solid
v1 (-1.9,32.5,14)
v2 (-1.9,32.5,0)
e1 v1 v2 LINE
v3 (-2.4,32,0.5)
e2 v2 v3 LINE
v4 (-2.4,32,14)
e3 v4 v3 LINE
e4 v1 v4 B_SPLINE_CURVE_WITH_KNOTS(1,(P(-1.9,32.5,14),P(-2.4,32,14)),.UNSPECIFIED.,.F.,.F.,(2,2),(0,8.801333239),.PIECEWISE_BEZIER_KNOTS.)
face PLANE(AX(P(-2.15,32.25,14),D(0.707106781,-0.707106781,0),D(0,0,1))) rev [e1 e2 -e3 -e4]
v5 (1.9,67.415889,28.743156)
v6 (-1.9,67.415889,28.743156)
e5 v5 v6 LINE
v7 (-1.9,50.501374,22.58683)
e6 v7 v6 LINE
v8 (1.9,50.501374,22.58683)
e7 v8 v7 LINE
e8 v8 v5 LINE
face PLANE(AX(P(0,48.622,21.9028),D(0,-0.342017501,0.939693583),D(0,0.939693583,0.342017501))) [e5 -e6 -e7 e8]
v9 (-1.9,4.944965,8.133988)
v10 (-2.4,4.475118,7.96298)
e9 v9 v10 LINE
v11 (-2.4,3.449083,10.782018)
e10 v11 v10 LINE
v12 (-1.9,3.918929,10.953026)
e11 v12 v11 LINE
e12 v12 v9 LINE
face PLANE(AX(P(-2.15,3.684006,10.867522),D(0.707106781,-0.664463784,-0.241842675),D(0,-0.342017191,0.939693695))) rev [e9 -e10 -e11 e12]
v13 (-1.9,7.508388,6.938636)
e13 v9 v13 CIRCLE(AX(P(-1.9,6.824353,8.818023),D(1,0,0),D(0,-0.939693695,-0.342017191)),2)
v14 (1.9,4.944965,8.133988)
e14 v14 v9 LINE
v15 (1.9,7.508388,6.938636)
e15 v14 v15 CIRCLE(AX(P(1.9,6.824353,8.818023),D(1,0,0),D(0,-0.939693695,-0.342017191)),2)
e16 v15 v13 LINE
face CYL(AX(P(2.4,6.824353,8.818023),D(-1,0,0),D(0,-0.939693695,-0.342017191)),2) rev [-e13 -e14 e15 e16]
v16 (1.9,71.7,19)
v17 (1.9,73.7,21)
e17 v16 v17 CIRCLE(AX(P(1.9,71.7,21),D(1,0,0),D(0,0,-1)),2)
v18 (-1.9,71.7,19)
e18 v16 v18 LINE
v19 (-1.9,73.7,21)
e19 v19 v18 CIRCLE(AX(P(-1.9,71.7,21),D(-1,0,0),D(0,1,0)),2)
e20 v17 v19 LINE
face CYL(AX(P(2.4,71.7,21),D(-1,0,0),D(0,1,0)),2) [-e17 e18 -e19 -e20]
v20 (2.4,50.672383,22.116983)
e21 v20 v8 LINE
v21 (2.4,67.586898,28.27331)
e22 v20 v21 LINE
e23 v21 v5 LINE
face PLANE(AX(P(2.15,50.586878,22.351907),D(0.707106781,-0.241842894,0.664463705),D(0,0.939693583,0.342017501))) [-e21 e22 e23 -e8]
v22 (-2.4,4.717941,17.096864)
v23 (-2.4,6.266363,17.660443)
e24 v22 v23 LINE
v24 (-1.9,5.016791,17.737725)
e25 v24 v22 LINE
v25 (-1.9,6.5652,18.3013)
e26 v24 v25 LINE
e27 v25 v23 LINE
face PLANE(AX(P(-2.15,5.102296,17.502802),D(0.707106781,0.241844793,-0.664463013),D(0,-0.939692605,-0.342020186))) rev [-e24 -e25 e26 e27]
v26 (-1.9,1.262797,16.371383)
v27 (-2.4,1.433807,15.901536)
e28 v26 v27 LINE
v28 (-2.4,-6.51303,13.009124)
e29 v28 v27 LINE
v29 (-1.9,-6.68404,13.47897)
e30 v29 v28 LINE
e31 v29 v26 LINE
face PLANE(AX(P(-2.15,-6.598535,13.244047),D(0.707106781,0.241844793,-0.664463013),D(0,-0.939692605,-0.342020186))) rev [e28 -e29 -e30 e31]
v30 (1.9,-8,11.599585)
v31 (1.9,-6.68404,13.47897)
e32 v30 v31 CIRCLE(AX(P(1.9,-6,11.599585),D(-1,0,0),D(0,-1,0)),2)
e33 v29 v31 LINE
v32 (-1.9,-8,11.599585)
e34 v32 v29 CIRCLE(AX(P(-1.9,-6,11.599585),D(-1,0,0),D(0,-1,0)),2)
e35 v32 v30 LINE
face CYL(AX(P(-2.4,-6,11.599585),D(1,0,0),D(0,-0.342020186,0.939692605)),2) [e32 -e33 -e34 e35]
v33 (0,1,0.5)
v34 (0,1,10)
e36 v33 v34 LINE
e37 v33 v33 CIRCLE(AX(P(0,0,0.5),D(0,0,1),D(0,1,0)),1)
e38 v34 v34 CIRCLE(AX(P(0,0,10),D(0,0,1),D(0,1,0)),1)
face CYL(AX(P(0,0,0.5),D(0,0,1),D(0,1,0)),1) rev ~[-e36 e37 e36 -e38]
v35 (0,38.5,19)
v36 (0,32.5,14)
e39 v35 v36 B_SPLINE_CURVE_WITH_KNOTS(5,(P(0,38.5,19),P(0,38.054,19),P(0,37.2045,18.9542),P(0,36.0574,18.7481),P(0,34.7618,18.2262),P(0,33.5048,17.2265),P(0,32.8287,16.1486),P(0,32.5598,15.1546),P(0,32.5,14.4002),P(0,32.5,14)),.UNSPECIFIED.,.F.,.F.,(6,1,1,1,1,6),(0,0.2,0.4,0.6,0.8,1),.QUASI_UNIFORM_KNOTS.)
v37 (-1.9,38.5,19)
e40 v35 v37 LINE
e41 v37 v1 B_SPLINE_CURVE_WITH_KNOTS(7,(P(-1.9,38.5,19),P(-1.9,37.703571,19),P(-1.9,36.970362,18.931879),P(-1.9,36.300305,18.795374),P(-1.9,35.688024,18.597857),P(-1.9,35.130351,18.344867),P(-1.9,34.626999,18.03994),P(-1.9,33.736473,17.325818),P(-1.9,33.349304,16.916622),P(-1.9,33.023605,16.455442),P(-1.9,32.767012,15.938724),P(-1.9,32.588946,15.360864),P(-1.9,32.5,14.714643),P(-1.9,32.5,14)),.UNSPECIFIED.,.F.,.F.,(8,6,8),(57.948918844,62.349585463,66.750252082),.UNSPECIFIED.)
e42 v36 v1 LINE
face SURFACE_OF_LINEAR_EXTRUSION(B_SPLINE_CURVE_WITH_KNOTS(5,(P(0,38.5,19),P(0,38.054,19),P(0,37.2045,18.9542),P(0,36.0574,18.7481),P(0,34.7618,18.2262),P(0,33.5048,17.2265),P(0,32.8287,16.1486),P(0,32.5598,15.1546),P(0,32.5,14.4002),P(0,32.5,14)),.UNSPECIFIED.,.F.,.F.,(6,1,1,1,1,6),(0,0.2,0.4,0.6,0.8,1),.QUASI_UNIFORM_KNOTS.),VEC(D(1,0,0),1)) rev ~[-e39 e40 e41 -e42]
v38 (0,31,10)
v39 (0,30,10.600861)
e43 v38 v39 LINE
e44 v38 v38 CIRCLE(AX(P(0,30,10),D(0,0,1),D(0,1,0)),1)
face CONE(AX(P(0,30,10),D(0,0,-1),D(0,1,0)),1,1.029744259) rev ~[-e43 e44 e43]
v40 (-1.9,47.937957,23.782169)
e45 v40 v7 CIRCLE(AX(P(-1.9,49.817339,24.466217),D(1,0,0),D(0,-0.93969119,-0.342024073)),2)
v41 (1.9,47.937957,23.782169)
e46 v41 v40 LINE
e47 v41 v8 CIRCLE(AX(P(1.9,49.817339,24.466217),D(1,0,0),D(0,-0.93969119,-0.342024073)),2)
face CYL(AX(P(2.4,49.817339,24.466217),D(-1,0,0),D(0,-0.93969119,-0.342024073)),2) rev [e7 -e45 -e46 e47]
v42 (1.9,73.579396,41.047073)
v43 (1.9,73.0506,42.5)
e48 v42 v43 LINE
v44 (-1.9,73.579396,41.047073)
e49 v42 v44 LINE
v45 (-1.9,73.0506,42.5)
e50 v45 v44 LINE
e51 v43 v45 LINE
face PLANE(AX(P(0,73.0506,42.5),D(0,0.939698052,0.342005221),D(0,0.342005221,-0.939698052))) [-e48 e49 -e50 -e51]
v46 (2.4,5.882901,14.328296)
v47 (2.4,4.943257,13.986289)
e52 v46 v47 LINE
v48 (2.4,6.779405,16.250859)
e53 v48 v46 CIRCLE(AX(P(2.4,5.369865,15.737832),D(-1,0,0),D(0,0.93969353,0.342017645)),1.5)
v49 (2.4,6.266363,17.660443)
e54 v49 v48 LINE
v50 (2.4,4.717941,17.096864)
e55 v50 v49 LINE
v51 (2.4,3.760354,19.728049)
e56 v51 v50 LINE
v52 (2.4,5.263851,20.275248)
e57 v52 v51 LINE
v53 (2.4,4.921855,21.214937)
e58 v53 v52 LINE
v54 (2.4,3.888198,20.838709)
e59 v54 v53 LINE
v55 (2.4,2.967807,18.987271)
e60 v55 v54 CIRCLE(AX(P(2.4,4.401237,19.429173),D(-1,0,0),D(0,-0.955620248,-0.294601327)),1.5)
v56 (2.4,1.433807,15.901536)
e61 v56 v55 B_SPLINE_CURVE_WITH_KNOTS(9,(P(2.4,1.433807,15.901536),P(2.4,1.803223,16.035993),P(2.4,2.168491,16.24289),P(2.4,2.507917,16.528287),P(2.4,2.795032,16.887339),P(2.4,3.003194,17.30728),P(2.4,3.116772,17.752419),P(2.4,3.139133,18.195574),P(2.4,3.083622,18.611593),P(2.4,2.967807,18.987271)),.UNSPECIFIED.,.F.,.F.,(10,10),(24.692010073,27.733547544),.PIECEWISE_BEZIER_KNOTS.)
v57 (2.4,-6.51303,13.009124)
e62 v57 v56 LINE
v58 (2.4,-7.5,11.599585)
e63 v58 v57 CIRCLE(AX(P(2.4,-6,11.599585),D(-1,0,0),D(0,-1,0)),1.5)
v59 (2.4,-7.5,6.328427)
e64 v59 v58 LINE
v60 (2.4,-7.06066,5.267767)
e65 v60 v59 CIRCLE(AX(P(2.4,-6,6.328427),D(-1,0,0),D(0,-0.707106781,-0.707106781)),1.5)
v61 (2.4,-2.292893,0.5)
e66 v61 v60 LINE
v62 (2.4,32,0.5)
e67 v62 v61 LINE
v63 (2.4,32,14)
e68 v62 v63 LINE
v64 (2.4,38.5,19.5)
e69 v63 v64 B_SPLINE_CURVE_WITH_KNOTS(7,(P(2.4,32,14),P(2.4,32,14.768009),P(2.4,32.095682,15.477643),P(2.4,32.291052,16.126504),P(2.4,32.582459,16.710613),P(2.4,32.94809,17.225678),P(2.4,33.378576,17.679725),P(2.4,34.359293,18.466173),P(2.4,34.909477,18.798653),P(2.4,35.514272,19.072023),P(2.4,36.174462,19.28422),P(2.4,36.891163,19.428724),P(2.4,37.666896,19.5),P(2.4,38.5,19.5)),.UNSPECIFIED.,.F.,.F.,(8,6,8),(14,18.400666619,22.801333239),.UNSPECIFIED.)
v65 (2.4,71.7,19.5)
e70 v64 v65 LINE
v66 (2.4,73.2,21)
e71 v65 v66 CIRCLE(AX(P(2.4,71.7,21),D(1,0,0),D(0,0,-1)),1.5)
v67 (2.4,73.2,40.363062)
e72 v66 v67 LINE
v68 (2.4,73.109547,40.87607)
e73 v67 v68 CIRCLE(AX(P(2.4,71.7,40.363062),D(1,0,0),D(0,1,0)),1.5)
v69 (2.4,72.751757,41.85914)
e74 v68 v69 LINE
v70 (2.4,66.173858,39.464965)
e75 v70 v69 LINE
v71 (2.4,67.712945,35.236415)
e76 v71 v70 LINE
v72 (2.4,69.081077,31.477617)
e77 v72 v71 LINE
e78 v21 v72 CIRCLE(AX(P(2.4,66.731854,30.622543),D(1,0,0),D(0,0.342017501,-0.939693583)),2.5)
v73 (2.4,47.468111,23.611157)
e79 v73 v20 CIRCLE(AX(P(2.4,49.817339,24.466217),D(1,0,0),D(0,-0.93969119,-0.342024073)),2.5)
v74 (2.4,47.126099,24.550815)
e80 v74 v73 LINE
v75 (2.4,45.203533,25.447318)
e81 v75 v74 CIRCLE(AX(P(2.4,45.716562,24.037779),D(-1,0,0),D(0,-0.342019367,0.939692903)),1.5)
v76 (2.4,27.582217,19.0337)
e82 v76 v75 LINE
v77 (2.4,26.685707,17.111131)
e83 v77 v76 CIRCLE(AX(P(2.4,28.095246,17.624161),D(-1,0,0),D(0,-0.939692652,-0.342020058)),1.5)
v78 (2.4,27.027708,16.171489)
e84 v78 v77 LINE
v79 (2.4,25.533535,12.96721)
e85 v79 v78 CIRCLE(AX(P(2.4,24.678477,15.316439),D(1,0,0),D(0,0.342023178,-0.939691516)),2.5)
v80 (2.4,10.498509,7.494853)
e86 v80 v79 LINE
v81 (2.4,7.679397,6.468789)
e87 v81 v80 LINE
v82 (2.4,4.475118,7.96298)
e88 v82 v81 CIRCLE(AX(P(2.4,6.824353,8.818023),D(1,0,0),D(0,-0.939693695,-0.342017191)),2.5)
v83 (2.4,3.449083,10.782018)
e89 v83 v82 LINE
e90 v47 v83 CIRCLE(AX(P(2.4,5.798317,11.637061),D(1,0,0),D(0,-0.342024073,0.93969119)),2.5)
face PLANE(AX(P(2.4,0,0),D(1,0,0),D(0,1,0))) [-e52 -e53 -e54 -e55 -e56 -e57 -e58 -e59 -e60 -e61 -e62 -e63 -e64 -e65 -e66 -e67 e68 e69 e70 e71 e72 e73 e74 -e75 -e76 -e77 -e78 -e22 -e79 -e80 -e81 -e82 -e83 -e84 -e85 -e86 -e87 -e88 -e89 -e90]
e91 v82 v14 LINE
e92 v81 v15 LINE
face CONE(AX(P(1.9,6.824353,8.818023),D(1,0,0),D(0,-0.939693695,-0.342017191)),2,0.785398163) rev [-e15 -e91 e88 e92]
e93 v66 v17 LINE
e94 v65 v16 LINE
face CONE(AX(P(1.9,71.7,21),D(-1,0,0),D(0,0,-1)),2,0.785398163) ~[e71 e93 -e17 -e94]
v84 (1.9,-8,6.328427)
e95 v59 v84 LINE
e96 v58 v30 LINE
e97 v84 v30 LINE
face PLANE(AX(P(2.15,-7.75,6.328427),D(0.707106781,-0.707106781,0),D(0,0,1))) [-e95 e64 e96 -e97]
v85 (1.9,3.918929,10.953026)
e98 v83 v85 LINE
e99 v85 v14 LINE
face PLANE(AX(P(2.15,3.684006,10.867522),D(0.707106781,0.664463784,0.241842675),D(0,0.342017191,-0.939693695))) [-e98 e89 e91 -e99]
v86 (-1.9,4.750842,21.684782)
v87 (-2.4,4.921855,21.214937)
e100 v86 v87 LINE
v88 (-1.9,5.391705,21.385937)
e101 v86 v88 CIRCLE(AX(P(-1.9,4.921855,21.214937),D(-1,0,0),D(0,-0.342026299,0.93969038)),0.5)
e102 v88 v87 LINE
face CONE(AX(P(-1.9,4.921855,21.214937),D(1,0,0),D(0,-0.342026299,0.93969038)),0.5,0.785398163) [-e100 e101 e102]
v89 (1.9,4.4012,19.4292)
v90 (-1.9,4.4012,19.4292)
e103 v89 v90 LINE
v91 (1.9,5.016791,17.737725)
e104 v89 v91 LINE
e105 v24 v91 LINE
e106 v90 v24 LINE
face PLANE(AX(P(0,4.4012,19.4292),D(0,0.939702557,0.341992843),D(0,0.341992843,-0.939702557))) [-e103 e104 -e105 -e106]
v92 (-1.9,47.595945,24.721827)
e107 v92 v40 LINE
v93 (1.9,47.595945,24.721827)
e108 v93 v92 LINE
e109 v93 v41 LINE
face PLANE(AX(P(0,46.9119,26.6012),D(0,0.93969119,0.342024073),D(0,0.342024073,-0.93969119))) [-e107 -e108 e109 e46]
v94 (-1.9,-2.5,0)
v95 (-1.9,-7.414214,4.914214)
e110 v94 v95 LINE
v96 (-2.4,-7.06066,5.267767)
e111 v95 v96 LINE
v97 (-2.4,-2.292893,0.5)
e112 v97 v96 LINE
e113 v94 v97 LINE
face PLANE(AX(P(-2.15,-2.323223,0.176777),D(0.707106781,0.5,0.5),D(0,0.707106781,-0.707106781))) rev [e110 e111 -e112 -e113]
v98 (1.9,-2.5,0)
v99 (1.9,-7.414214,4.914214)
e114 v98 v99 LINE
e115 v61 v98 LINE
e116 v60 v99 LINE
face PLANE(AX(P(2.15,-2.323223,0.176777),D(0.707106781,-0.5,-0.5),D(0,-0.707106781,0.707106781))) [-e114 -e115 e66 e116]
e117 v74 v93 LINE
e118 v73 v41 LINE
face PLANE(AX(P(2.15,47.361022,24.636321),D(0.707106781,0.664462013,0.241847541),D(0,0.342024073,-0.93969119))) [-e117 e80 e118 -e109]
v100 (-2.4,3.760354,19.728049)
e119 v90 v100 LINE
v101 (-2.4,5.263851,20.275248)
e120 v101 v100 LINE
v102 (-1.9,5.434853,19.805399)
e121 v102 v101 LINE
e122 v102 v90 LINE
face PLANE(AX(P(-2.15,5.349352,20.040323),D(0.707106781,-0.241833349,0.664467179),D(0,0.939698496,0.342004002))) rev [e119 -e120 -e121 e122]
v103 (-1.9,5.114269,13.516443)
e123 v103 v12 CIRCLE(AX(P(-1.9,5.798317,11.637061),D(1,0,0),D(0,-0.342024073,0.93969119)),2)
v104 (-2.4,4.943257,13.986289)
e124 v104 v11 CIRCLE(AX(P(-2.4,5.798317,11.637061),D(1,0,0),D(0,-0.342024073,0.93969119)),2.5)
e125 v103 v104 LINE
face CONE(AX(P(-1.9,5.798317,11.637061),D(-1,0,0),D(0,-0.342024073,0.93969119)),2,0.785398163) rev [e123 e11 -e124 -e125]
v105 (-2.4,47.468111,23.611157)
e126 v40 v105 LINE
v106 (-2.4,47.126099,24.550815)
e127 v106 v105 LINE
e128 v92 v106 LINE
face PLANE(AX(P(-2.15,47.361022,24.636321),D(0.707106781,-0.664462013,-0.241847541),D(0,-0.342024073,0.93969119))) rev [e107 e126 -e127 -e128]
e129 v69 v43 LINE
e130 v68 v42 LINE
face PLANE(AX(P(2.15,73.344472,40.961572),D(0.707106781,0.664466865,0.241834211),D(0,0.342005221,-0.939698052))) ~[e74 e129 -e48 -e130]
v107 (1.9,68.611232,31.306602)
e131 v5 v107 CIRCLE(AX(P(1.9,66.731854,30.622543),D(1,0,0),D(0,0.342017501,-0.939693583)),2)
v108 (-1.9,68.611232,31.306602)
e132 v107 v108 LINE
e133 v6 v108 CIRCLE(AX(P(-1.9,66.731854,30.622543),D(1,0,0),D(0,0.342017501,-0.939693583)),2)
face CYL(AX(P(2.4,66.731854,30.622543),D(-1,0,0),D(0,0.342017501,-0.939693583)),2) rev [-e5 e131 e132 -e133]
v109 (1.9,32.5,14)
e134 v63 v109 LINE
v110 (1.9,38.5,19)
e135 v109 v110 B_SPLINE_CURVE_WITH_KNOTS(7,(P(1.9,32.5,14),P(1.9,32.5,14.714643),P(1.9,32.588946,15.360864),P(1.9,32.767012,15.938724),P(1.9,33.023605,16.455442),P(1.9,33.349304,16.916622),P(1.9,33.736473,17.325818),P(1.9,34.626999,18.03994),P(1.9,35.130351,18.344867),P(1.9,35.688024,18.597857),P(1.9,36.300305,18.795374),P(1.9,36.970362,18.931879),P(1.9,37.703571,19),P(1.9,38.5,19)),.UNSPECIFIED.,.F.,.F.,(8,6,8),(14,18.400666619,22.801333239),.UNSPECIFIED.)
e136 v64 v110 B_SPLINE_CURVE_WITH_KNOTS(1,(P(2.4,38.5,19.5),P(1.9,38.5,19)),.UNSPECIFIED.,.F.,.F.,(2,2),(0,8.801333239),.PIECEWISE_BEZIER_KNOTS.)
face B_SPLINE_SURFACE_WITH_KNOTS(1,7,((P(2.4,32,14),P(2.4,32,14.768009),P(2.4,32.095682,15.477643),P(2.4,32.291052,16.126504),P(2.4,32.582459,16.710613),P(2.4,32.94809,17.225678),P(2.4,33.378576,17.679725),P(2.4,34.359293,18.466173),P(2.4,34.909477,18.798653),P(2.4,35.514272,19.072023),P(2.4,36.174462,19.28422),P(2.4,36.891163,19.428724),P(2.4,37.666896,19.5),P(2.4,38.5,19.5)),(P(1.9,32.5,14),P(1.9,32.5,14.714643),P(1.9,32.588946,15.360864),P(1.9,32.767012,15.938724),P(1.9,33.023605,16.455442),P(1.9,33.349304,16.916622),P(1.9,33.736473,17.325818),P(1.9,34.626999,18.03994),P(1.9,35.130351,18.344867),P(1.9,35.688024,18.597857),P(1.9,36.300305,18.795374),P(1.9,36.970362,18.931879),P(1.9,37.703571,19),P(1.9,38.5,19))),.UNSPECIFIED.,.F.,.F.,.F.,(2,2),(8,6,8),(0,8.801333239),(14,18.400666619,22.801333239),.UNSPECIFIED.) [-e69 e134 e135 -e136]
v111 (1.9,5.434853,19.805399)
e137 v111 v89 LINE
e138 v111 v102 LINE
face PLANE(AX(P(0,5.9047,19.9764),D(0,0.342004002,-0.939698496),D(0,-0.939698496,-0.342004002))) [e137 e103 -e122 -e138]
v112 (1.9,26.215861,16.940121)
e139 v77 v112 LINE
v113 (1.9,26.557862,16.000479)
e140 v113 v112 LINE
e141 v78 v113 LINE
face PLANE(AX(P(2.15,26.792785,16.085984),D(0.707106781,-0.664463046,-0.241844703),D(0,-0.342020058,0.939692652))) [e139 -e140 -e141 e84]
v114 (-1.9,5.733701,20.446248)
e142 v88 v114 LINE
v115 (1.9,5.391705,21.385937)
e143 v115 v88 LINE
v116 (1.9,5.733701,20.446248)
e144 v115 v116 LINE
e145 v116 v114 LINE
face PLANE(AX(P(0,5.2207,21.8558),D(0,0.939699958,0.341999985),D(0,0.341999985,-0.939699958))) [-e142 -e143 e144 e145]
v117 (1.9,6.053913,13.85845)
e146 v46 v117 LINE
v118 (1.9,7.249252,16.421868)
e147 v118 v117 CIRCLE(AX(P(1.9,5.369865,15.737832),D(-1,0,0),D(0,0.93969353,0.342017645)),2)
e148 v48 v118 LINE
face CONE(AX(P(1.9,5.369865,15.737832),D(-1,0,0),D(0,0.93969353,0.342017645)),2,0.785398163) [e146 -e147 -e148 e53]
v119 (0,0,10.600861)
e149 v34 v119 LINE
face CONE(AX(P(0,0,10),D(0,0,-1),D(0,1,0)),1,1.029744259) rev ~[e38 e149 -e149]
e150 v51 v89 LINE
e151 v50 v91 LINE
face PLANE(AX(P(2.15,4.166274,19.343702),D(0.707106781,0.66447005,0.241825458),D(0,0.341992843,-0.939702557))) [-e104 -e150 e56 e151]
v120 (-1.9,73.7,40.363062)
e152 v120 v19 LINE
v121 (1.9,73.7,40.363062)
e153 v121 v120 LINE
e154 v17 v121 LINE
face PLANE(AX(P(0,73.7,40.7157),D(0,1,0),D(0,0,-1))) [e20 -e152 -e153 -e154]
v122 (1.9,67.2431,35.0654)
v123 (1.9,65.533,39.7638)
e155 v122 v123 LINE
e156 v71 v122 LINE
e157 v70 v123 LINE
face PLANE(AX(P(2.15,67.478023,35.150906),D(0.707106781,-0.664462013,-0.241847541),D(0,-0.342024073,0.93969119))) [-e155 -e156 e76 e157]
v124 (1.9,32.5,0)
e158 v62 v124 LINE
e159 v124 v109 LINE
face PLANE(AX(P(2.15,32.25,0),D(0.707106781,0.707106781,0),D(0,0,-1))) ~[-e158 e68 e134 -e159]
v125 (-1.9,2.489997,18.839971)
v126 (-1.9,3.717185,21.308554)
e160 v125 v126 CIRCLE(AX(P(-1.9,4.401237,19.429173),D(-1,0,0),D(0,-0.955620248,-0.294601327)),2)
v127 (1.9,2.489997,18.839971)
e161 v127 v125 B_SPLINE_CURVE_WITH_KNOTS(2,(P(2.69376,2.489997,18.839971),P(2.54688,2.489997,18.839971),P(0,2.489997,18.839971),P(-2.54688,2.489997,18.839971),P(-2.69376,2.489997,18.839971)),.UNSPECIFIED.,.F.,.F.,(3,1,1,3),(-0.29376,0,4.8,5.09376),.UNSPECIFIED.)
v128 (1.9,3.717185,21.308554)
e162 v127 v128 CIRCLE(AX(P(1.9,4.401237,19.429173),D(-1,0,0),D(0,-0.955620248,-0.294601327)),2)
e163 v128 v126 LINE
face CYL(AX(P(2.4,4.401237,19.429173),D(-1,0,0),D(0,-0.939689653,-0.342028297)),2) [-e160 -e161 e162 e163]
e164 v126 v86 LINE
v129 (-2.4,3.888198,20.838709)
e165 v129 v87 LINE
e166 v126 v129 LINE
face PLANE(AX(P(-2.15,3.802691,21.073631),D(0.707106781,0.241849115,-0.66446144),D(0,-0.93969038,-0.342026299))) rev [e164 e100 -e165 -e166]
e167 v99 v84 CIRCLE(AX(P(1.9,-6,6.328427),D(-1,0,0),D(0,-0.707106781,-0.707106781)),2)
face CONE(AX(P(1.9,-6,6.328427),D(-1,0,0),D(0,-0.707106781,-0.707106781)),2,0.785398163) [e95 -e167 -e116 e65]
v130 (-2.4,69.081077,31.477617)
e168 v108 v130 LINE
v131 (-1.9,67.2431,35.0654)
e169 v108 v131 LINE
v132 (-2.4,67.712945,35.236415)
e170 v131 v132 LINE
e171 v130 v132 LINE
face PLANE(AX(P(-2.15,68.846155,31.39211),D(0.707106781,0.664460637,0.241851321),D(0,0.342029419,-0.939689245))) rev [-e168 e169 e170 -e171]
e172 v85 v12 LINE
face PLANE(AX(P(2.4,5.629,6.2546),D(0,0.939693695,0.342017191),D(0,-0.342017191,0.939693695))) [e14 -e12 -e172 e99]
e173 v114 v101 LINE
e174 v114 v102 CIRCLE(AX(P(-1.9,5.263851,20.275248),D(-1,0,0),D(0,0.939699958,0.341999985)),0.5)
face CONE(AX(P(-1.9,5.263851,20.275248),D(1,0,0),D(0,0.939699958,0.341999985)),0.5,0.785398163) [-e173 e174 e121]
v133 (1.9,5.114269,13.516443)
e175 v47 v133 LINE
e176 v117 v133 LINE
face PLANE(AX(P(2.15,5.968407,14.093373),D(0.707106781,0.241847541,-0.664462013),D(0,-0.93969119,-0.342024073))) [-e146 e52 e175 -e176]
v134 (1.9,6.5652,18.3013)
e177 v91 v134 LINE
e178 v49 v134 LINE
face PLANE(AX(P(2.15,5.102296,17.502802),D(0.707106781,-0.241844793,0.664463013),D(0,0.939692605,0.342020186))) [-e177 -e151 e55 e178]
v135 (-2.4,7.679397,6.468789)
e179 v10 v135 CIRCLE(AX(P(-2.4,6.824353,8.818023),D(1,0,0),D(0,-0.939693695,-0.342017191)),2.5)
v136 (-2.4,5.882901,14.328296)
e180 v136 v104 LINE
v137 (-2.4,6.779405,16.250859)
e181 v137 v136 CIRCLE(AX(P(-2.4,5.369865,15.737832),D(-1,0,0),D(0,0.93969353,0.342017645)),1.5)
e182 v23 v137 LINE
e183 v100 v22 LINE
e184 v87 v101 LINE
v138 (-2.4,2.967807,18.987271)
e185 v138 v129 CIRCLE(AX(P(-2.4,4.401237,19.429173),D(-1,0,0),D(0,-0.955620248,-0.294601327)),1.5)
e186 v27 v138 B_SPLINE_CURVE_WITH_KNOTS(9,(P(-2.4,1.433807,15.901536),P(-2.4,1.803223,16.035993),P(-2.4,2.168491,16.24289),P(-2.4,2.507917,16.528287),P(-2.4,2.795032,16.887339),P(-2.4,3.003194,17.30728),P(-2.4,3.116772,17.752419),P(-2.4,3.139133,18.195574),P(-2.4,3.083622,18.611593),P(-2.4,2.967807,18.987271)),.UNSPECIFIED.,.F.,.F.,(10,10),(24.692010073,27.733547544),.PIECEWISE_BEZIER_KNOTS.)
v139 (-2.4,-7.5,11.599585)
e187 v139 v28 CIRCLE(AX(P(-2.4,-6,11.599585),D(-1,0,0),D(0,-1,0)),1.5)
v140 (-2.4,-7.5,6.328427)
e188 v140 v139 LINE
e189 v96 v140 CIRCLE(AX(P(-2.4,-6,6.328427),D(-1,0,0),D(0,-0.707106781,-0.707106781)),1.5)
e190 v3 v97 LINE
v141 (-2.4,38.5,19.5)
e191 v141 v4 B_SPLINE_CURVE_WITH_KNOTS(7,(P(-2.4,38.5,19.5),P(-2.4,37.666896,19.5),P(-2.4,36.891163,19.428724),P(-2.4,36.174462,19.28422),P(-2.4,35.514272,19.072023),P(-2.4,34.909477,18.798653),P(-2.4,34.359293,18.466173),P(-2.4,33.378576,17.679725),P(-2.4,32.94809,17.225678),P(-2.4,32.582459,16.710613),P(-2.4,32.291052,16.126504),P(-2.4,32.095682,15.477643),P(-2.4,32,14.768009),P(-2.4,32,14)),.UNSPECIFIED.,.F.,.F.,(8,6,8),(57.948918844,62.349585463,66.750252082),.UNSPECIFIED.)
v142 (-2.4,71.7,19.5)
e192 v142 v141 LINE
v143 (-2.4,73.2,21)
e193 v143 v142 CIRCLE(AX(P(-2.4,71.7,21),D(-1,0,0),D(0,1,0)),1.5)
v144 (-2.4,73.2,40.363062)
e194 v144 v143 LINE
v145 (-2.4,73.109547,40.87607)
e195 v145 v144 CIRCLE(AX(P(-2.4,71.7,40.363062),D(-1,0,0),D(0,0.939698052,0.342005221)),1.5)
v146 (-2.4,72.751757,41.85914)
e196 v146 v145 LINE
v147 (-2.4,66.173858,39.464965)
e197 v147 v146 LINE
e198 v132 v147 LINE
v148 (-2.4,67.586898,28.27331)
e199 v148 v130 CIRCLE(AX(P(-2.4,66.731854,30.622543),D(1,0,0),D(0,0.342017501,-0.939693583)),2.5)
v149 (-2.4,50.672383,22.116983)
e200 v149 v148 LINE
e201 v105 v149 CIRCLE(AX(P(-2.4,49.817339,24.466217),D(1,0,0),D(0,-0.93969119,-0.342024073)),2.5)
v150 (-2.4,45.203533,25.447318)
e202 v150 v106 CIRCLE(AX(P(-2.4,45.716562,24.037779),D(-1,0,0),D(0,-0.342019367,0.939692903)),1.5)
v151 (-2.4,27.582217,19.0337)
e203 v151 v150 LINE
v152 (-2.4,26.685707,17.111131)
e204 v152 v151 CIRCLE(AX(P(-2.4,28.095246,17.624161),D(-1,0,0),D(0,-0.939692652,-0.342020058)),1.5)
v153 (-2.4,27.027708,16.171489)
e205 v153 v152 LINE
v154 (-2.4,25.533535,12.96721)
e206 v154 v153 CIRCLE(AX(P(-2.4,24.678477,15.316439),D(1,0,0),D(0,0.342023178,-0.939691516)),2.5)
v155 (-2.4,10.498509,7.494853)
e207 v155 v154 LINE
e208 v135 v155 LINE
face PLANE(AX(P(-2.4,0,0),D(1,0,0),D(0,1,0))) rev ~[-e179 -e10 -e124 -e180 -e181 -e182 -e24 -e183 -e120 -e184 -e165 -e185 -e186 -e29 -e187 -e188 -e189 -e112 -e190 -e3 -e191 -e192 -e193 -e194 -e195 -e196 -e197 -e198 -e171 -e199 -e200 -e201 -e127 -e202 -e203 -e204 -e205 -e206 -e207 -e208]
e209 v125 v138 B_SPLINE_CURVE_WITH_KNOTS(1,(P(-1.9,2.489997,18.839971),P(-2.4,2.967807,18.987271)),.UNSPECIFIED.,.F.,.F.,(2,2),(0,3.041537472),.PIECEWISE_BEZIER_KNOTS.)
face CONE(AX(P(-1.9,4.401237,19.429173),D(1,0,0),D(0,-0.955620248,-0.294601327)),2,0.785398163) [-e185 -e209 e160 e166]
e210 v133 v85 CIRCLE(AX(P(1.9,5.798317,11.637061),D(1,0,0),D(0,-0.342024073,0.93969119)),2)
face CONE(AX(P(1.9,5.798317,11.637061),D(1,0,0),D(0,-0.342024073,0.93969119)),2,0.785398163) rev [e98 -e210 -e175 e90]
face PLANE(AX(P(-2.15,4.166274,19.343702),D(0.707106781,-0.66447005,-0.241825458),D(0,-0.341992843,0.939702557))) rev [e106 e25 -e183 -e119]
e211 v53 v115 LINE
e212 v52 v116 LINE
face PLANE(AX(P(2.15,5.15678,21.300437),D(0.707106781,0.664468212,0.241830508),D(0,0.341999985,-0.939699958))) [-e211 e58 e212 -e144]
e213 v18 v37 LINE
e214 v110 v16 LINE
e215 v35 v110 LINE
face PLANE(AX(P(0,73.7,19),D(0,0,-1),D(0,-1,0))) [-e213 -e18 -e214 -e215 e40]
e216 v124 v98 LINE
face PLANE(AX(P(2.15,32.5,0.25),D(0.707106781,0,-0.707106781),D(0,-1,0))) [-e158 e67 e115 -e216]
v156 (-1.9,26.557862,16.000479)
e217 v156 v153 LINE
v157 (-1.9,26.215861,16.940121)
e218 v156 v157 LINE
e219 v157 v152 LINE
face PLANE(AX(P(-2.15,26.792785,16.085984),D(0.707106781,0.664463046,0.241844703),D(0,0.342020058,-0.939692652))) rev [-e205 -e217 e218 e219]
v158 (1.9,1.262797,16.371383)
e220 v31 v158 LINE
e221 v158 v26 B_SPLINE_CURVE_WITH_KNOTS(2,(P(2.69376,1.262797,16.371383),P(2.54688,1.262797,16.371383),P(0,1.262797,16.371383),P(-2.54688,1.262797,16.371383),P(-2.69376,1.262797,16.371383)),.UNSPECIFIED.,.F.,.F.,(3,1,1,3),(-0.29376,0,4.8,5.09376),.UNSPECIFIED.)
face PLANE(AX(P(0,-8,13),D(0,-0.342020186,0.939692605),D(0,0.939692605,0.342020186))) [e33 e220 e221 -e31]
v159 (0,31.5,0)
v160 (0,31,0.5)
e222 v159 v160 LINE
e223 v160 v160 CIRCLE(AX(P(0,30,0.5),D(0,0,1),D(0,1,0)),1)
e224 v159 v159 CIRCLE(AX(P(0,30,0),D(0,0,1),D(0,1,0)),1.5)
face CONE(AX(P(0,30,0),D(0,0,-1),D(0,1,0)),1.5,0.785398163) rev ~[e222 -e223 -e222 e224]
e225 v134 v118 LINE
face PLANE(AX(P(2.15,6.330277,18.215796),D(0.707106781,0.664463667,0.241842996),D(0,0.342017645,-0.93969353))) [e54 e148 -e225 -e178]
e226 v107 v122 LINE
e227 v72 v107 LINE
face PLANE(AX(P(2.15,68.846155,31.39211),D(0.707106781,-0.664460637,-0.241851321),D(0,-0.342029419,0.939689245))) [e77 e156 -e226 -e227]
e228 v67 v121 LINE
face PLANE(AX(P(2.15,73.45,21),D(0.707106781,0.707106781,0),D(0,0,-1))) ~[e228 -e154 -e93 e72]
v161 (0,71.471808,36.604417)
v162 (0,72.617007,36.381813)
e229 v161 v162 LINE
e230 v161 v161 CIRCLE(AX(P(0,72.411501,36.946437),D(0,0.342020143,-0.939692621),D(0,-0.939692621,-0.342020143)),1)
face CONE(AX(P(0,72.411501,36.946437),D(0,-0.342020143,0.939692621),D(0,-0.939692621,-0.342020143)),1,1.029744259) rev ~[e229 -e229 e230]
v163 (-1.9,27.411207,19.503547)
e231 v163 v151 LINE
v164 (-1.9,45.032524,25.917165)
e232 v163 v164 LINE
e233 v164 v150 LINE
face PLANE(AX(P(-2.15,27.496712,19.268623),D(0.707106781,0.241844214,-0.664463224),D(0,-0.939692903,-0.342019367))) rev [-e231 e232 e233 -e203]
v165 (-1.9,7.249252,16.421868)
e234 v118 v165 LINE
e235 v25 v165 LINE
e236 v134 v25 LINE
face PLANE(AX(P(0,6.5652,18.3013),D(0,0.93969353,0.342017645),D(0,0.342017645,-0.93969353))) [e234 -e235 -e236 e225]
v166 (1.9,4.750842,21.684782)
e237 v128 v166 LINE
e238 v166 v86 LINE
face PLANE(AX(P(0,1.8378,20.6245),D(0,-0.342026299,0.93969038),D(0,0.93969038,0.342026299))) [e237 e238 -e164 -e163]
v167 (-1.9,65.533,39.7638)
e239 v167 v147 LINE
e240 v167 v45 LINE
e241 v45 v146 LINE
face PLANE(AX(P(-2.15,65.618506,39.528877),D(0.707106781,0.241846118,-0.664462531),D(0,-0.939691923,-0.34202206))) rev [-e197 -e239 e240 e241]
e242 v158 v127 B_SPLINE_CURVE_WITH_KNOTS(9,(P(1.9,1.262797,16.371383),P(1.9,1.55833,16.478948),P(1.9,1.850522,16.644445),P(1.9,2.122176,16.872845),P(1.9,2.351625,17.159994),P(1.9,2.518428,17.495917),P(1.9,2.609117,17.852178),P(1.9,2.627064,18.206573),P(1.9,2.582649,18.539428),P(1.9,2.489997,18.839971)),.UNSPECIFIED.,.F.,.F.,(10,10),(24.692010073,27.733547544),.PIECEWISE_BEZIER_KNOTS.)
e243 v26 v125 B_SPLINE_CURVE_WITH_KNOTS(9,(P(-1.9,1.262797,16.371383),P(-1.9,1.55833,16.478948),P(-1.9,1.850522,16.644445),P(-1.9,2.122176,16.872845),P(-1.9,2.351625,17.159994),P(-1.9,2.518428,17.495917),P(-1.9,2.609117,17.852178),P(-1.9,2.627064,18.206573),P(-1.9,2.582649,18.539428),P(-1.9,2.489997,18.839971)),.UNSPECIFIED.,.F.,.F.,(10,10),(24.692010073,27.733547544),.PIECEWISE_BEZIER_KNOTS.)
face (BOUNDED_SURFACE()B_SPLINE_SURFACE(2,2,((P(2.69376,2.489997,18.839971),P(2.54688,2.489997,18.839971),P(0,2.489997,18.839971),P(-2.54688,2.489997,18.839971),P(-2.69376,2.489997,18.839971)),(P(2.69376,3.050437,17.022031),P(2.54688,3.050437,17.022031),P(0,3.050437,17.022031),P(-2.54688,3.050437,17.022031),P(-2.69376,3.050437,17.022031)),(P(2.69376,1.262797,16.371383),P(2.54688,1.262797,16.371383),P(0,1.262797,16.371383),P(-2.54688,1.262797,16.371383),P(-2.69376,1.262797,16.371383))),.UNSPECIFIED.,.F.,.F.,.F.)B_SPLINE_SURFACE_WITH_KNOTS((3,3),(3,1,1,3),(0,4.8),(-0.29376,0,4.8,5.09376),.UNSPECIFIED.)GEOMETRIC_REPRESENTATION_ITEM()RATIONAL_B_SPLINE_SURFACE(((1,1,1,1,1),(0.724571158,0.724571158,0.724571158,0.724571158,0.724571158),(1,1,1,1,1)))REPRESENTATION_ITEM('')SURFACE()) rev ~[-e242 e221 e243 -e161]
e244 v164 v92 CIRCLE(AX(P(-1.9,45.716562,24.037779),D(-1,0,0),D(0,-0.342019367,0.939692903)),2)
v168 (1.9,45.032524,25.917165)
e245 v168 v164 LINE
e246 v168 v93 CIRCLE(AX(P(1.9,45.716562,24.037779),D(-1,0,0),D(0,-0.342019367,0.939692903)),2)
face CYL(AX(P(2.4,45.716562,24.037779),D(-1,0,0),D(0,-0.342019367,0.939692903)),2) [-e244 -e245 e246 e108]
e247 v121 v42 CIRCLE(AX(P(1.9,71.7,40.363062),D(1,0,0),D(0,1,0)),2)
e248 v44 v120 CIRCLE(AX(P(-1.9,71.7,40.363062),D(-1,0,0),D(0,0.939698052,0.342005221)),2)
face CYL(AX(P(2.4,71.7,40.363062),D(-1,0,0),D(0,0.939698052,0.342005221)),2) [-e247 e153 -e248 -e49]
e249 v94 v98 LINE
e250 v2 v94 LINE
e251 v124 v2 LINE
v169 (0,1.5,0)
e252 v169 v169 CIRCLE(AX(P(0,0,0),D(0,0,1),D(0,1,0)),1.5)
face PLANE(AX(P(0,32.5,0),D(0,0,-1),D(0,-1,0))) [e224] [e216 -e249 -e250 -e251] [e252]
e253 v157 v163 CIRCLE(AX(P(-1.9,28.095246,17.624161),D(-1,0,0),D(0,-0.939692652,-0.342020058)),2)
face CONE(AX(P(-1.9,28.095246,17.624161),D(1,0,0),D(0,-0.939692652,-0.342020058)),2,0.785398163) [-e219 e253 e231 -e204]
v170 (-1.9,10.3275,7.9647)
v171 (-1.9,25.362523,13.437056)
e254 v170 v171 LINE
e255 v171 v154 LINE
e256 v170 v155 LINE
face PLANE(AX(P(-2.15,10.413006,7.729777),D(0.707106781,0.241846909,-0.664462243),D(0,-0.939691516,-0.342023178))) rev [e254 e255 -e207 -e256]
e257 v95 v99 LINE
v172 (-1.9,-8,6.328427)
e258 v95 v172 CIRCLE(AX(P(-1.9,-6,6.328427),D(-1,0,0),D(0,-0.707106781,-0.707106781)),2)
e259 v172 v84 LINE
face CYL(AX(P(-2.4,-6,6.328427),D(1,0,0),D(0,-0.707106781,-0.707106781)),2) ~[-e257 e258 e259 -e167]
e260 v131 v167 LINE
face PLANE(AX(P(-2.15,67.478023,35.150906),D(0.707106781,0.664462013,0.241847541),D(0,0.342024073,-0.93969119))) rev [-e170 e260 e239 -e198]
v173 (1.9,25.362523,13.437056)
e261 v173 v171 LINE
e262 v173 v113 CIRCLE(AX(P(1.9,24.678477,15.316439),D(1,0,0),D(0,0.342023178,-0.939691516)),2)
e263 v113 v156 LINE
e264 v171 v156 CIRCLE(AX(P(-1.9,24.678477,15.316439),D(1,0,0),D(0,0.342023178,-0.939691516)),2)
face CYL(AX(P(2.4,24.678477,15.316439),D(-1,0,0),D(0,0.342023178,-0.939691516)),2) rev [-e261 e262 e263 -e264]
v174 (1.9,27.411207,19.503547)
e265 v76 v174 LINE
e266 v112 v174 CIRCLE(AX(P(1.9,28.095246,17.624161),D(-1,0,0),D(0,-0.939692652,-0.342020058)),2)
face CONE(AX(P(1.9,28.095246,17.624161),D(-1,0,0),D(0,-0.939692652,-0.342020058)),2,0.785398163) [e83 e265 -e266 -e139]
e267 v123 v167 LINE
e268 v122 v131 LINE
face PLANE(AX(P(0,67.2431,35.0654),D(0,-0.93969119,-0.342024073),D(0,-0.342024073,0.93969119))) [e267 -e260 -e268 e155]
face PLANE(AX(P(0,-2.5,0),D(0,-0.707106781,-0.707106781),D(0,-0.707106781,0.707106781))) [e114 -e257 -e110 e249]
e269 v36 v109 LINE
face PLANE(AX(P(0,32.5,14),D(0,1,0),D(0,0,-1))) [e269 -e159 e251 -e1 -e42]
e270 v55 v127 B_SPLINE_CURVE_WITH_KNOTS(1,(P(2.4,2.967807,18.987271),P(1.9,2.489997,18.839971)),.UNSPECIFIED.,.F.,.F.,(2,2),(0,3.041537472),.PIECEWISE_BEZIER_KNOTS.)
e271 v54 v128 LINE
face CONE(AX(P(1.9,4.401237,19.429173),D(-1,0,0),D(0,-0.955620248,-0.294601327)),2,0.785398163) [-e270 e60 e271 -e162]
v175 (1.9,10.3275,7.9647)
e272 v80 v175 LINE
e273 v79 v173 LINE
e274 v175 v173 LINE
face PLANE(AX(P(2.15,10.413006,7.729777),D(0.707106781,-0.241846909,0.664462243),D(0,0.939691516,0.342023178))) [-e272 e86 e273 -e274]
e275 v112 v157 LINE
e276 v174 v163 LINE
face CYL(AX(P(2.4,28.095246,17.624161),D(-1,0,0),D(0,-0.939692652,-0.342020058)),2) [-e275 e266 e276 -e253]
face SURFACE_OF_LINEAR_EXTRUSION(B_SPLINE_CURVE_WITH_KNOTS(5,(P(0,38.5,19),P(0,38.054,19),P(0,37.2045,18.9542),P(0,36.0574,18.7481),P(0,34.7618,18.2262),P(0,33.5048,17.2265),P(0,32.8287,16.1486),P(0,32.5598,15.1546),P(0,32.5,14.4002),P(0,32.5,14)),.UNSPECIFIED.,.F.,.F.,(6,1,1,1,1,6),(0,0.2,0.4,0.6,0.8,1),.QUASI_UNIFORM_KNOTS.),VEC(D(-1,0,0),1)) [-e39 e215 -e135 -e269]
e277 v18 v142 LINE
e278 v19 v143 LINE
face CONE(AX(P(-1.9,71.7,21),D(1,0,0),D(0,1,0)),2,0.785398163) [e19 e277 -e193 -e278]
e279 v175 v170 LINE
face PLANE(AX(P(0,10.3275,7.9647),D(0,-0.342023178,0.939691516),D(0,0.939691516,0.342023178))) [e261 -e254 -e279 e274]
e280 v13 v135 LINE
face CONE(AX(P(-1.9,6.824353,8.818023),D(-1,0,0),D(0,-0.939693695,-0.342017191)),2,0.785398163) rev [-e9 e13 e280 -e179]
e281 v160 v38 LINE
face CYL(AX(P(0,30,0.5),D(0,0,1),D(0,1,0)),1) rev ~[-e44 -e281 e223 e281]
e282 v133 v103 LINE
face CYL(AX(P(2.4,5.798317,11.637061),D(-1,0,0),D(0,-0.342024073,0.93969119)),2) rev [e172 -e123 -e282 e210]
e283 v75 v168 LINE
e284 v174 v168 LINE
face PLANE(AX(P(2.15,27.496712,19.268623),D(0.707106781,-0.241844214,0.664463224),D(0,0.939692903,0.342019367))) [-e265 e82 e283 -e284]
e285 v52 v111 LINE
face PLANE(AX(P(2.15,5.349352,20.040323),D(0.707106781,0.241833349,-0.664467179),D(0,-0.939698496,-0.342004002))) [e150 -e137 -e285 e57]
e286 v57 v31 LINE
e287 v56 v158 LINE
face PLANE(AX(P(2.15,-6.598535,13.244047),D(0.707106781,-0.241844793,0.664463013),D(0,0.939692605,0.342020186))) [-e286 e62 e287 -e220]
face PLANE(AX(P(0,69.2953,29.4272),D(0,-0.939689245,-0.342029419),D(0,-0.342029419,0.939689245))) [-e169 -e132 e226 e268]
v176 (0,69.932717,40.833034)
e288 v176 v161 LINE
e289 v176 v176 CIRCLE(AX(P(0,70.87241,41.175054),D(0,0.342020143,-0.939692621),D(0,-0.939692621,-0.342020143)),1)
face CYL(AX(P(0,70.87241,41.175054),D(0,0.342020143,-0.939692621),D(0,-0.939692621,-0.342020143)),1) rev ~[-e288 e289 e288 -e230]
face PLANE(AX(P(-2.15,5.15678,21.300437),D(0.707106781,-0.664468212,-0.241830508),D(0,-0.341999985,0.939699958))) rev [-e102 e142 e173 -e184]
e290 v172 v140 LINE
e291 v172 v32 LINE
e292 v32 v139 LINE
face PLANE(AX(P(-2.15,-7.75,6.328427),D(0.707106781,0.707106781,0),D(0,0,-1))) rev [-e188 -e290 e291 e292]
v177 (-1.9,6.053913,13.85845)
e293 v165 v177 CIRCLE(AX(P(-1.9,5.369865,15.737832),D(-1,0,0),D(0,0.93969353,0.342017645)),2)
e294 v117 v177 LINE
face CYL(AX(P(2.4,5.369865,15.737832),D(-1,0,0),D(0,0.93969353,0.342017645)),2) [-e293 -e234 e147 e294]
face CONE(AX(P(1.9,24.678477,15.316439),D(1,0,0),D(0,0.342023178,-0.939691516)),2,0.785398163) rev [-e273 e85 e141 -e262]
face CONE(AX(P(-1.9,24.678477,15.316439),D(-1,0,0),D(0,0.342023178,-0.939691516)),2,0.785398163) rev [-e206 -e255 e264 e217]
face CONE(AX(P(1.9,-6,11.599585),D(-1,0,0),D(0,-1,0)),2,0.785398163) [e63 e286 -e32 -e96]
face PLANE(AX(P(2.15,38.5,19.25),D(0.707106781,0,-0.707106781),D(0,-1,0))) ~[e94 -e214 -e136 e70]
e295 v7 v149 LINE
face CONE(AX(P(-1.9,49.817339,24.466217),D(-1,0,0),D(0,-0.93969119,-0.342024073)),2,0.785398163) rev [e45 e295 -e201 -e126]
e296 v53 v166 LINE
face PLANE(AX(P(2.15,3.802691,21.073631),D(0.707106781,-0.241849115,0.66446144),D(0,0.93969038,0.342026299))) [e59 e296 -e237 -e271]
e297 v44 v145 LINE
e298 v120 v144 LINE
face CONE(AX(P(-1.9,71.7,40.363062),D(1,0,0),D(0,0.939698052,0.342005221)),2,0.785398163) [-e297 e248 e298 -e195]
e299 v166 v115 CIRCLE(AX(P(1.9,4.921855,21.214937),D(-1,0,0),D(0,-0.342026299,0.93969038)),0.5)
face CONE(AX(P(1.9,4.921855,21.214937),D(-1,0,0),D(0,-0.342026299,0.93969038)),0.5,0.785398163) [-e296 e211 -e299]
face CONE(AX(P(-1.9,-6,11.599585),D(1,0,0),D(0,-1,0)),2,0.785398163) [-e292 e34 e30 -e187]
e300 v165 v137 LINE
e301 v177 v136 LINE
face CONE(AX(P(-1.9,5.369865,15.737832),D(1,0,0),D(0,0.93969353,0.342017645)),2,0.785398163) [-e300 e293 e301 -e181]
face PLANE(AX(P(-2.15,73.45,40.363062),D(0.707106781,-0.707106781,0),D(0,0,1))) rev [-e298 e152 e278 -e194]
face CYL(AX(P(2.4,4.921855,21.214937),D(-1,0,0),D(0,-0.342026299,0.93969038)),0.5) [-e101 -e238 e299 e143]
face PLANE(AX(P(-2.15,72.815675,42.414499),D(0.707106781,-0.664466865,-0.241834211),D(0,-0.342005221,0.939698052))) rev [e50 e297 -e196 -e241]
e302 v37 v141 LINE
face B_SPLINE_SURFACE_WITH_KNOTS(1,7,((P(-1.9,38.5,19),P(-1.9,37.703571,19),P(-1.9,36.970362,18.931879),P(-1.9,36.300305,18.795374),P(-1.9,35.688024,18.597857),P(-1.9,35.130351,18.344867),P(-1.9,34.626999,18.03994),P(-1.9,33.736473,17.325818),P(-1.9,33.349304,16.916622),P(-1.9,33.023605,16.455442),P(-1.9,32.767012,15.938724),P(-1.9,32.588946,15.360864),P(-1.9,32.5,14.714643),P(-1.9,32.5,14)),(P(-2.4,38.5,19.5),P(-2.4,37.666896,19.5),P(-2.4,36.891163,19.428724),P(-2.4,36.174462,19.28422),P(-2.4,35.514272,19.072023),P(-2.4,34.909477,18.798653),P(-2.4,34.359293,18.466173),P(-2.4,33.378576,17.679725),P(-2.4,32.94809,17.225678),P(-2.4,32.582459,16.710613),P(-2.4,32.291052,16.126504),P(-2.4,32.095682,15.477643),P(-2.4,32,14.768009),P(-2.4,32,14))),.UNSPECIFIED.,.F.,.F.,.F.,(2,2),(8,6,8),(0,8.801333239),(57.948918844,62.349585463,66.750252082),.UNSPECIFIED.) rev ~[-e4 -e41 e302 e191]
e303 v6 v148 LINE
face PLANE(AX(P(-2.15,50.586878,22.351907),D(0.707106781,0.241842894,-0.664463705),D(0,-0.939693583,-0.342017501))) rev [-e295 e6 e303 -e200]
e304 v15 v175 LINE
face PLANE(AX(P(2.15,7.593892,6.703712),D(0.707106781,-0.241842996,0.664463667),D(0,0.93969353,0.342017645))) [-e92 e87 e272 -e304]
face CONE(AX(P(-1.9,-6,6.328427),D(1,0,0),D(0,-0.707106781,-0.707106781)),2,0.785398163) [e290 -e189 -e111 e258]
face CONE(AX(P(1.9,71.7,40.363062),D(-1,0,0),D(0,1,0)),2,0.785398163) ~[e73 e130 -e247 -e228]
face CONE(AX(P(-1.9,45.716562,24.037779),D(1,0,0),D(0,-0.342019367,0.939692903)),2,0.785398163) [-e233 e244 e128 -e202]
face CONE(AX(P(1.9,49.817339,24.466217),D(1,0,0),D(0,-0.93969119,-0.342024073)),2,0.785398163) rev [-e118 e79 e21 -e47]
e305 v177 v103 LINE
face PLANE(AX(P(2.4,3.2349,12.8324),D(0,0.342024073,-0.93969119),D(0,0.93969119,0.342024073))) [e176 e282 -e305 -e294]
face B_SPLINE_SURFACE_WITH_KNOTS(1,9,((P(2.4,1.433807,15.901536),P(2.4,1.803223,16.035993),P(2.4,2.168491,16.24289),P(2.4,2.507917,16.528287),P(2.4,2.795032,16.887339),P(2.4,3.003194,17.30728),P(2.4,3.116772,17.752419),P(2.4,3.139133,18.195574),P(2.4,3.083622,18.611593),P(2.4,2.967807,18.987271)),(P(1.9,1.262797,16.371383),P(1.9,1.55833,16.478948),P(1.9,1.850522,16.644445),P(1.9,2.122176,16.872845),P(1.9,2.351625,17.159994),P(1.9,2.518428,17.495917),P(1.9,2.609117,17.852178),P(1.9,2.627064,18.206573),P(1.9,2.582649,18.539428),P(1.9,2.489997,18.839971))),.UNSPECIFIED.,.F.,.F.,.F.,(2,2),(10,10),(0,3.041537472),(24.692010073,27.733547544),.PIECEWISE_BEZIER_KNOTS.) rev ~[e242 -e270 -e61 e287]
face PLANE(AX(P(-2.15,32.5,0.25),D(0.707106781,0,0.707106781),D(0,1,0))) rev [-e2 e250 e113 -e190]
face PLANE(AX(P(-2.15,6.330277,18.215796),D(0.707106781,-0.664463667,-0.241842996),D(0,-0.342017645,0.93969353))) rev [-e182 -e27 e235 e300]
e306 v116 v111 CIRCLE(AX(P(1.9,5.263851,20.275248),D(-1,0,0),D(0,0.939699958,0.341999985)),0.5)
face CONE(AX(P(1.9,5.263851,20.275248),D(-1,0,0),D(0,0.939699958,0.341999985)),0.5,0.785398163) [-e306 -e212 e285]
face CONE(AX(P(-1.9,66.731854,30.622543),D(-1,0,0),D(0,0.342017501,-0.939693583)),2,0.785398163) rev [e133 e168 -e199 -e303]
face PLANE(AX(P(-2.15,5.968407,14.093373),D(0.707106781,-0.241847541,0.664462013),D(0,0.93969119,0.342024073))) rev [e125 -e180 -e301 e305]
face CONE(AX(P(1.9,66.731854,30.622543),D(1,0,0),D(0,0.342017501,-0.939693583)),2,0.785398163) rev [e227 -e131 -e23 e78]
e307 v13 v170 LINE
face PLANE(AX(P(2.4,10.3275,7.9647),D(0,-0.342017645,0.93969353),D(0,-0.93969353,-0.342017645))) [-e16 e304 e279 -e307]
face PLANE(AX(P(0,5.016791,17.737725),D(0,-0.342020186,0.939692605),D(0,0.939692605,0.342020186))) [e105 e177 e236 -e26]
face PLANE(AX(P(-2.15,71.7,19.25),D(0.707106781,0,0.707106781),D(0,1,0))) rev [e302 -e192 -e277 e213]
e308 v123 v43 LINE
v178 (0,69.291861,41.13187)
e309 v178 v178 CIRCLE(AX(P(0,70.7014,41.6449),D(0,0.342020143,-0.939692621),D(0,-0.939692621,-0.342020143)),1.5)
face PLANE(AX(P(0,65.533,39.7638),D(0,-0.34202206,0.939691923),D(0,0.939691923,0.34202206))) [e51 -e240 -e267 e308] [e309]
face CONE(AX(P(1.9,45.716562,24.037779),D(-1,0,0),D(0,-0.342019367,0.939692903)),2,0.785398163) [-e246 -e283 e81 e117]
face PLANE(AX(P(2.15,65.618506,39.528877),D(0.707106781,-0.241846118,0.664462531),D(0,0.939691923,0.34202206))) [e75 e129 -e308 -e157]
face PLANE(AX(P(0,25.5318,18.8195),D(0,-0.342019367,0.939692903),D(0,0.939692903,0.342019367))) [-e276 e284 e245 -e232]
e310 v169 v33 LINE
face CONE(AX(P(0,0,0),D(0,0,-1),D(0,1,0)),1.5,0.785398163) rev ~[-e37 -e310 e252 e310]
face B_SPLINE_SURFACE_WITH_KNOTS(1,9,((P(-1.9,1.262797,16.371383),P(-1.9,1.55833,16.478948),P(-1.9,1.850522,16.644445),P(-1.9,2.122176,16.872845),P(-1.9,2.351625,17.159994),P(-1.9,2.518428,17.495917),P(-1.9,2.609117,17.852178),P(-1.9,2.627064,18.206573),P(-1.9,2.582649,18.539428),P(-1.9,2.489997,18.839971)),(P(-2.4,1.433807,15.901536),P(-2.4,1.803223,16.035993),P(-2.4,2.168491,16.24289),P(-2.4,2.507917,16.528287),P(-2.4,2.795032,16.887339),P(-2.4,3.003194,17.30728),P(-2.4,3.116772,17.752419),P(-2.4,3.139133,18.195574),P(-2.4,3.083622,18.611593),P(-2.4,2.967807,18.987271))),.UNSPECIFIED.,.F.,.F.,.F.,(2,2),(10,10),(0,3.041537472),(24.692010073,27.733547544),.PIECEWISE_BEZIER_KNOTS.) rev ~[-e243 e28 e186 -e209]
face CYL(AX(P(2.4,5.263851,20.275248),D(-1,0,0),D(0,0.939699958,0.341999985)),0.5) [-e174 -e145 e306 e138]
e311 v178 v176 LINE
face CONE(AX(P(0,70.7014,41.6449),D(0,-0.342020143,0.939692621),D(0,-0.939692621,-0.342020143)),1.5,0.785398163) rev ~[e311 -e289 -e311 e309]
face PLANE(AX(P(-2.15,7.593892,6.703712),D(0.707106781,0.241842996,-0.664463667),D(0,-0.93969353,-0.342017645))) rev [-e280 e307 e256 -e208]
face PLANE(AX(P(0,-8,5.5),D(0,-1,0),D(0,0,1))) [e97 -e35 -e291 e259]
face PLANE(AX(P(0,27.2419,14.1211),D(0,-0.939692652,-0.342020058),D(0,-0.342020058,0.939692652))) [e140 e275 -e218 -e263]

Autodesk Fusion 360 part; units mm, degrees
sketch "Esquisse1" plane through (0, 0, 0) normal (1, 0, 0) x (0, 1, 0)
  line L0 (0, 0) -> (0, 15) construction
  line L1 (30, 0) -> (30, 15) construction
  line L2 (32.5, 0) -> (32.5, 13)
  line L3 (32.5, 13) -> (38.5, 19)
  line L4 (38.5, 19) -> (73.7, 19)
  line L5 (32.5, 0) -> (-2.5, 0)
  line L6 (-2.5, 0) -> (-8, 5.5)
  line L7 (-8, 13) -> (73.0506, 42.5)
  line L8 (14.3198, 21.1237) -> (18.082, 10.7871) construction
  line L9 (70.7014, 41.6449) -> (74.4636, 31.3083) construction
  line L10 (46.2693, 32.7524) -> (50.0316, 22.4158) construction
  line L11 (11.9706, 20.2687) -> (15.7328, 9.9321) construction
  line L12 (15.7328, 9.9321) -> (18.082, 10.7871) construction
  line L13 (73.0506, 42.5) -> (76.8128, 32.1634) construction
  line L14 (76.8128, 32.1634) -> (74.4636, 31.3083) construction
  line L15 (3.1375, 17.0537) -> (1.8378, 20.6245)
  line L16 (1.8378, 20.6245) -> (5.2207, 21.8558)
  line L17 (5.2207, 21.8558) -> (5.9047, 19.9764)
  line L18 (5.9047, 19.9764) -> (4.4012, 19.4292)
  line L19 (4.4012, 19.4292) -> (5.0168, 17.7377)
  line L20 (-2.5, 0) -> (-2.5, 15) construction
  line L21 (-2.5, 15) -> (2.5, 15) construction
  line L22 (2.5, 15) -> (2.5, 0) construction
  line L23 (32.5, 0) -> (32.5, 15) construction
  line L24 (32.5, 15) -> (27.5, 15) construction
  line L25 (27.5, 15) -> (27.5, 0) construction
  line L26 (-8, 5.5) -> (-8, 13)
  line L27 (73.7, 19) -> (73.7, 40.7157)
  line L28 (73.0506, 42.5) -> (73.7, 40.7157)
  dimension "d1" = 30
  dimension "d2" = 15
  dimension "d3" = 2.5
  dimension "d4" = 2.5
  dimension "d5" = 19
  dimension "d6" = 135
  dimension "d7" = 13
  dimension "d8" = 60
  dimension "d9" = 26
  dimension "d10" = 11
  dimension "d11" = 2.5
  dimension "d12" = 2.5
  dimension "d14" = 3.6
  dimension "d15" = 3.8
  dimension "d16" = 2
  dimension "d17" = 2
  dimension "d18" = 5.5
  dimension "d19" = 13
  dimension "d20" = 135
  dimension "d21" = 81.7
  dimension "d23" = 42.5
  dimension "d24" = 110
  dimension "d25" = 74.4
sketch "Esquisse2" plane through (0, 0, 0) normal (1, 0, 0) x (0, 1, 0)
  line L0 (-8, 13) -> (6.5652, 18.3013)
  line L1 (6.5652, 18.3013) -> (8.2753, 13.6028)
  line L2 (8.2753, 13.6028) -> (67.2431, 35.0654)
  line L3 (67.2431, 35.0654) -> (65.533, 39.7638)
  line L4 (65.533, 39.7638) -> (73.0506, 42.5)
  line L5 (73.0506, 42.5) -> (73.7, 40.7157)
  line L6 (73.7, 40.7157) -> (73.7, 19)
  line L7 (73.7, 19) -> (38.5, 19)
  line L8 (-8, 13) -> (73.0506, 42.5) construction
  line L9 (38.5, 19) -> (32.5, 14) construction
  line L10 (32.5, 14) -> (32.5, 0)
  line L11 (32.5, 0) -> (-2.5, 0)
  line L12 (-2.5, 0) -> (-8, 5.5)
  line L13 (-8, 5.5) -> (-8, 13)
  line L14 (5.2207, 21.8558) -> (5.9047, 19.9764)
  line L15 (1.8378, 20.6245) -> (5.2207, 21.8558)
  line L16 (5.9047, 19.9764) -> (4.4012, 19.4292)
  line L17 (4.4012, 19.4292) -> (5.0168, 17.7377)
  line L18 (3.1375, 17.0537) -> (1.8378, 20.6245)
  spline S0 degree 5 poles (38.5, 19) (38.054, 19) (37.2045, 18.9542) (36.0574, 18.7481) (34.7618, 18.2262) (33.5048, 17.2265) (32.8287, 16.1486) (32.5598, 15.1546) (32.5, 14.4002) (32.5, 14) knots 0 0 0 0 0 0 0.2 0.4 0.6 0.8 1 1 1 1 1 1
  line L19 (39.441, 19) -> (37.559, 19)
  line L20 (32.5, 14.7985) -> (32.5, 13.2015)
  circle A0 centre (17.6723, 17.0231) radius 3.5
  circle A1 centre (55.26, 30.7039) radius 3.5
  line L21 (8.2753, 13.6028) -> (10.3275, 7.9647)
  line L22 (10.3275, 7.9647) -> (27.2419, 14.1211)
  line L23 (27.2419, 14.1211) -> (25.1898, 19.7592)
  line L24 (25.5318, 18.8195) -> (46.9119, 26.6012)
  line L25 (46.9119, 26.6012) -> (48.622, 21.9028)
  line L26 (48.622, 21.9028) -> (69.2953, 29.4272)
  line L27 (69.2953, 29.4272) -> (67.2431, 35.0654)
  point P0 (-8, 13)
  point P1 (73.0506, 42.5)
  point P2 (73.7, 19)
  point P3 (-8, 5.5)
  point P4 (32.5, 0)
  point P5 (38.5, 19)
  point P6 (-2.5, 0)
  dimension "d26" = 15.5
  dimension "d27" = 5
  dimension "d28" = 8
  dimension "d49" = 14
  dimension "d53" = 7
  dimension "d54" = 10
  dimension "d55" = 40
  dimension "d57" = 6
  dimension "d58" = 18
  dimension "d60" = 22
  dimension "d61" = 1
extrude "Extrusion1" add sketch "Esquisse2" sketch "Esquisse1" along normal mid plane 4.8 contours L0 L1 L3 L4 L5 L6 L7 L10 L11 L12 L13 S0 L19 L20 L21 L22 L23 L24 L25 L26 L27 of sketch 2 contours L7 L15 L16 L17 L18 L19
fillet "Congé1" radius 2 1 edges at (0, 1.8378, 20.6245)
fillet "Congé1" radius 0.5 2 edges at (0, 5.2207, 21.8558) (0, 5.9047, 19.9764)
sketch "Esquisse4" plane through (0, 0, 0) normal (0, 0, -1) x (1, 0, 0)
  line L0 (-2.4, -32.5) -> (2.4, -32.5)
  line L1 (2.4, -32.5) -> (2.4, 2.5)
  line L2 (2.4, 2.5) -> (-2.4, 2.5)
  line L3 (-2.4, 2.5) -> (-2.4, -32.5)
  point P0 (0, -30)
  point P1 (0, -30)
hole "Perçage1" at (0, 0, 0) at (0, 30, 0) direction (0, 0, 1) diameter 2 depth 10 tip angle 118 countersink diameter 3 countersink angle 90
sketch "Esquisse5" plane through (0, -5.1139, 14.0504) normal (0, -0.342, 0.9397) x (1, 0, 0)
  line L0 (-2.4, 75.181) -> (2.4, 75.181)
  line L1 (2.4, 75.181) -> (2.4, 83.181)
  line L2 (2.4, 83.181) -> (-2.4, 83.181)
  line L3 (-2.4, 83.181) -> (-2.4, 75.181)
  point P0 (0, 80.681)
  point P1 (0, 80.681)
hole "Perçage2" at (0, 70.7014, 41.6449) direction (0, 0.342, -0.9397) diameter 2 depth 5 tip angle 118 countersink diameter 3 countersink angle 90
sketch "Esquisse6" plane through (2.4, 0, 0) normal (1, 0, 0) x (0, 1, 0)
  arc A0 (5.4349, 19.8054) -> (5.7337, 20.4463) centre (5.2639, 20.2753) ccw
  line L0 (5.7337, 20.4463) -> (5.3917, 21.386)
  arc A1 (5.3917, 21.386) -> (4.7508, 21.6848) centre (4.9218, 21.2149) ccw
  line L1 (4.7508, 21.6848) -> (3.7172, 21.3086)
  arc A2 (3.7172, 21.3086) -> (2.5218, 18.7451) centre (4.4012, 19.4292) ccw
  line L2 (2.5218, 18.7451) -> (3.1375, 17.0537)
  line L3 (3.1375, 17.0537) -> (-8, 13)
  line L4 (-8, 13) -> (-8, 5.5)
  line L5 (-8, 5.5) -> (-2.5, 0)
  line L6 (-2.5, 0) -> (32.5, 0)
  line L7 (32.5, 0) -> (32.5, 14)
  spline S0 degree 5 poles (32.5, 14) (32.5, 14.4002) (32.5598, 15.1546) (32.8287, 16.1486) (33.5048, 17.2265) (34.7618, 18.2262) (36.0574, 18.7481) (37.2045, 18.9542) (38.054, 19) (38.5, 19) knots -1 -1 -1 -1 -1 -1 -0.8 -0.6 -0.4 -0.2 0 0 0 0 0 0
  line L8 (38.5, 19) -> (73.7, 19)
  line L9 (73.7, 19) -> (73.7, 40.7157)
  line L10 (73.7, 40.7157) -> (73.0506, 42.5)
  line L11 (73.0506, 42.5) -> (65.533, 39.7638)
  line L12 (65.533, 39.7638) -> (69.2953, 29.4272)
  line L13 (69.2953, 29.4272) -> (48.622, 21.9028)
  line L14 (48.622, 21.9028) -> (46.9119, 26.6012)
  line L15 (46.9119, 26.6012) -> (25.5318, 18.8195)
  line L16 (25.5318, 18.8195) -> (27.2419, 14.1211)
  line L17 (27.2419, 14.1211) -> (10.3275, 7.9647)
  line L18 (10.3275, 7.9647) -> (6.5652, 18.3013)
  line L19 (6.5652, 18.3013) -> (5.0168, 17.7377)
  line L20 (5.0168, 17.7377) -> (4.4012, 19.4292)
  line L21 (4.4012, 19.4292) -> (5.4349, 19.8054)
  line L22 (10.3275, 7.9647) -> (5.629, 6.2546)
  line L23 (5.629, 6.2546) -> (3.2349, 12.8324)
  line L24 (3.2349, 12.8324) -> (7.9333, 14.5425)
  dimension "d62" = 7
  dimension "d63" = 5
extrude "Extrusion2" cut sketch "Esquisse6" against normal up to surface (4.8 mm away) contours L18 L22 L23 L24
fillet "Congé2" radius 2 13 edges at (0, 73.7, 40.7157) (0, -8, 13) (0, 73.7, 19) (0, -8, 5.5) (0, 3.1375, 17.0537) (0, 27.2419, 14.1211) (0, 25.5318, 18.8195) (0, 46.9119, 26.6012) (0, 48.622, 21.9028) (0, 69.2953, 29.4272) (0, 5.629, 6.2546) (0, 3.2349, 12.8324) (0, 7.9333, 14.5425)
chamfer "Chanfrein1" distance 0.5 angle 45 2 faces at (2.4, 21.7903, 6.7919) (-2.4, 21.7903, 6.7919)
equation "d4 = d3"
equation "d17 = d16"
